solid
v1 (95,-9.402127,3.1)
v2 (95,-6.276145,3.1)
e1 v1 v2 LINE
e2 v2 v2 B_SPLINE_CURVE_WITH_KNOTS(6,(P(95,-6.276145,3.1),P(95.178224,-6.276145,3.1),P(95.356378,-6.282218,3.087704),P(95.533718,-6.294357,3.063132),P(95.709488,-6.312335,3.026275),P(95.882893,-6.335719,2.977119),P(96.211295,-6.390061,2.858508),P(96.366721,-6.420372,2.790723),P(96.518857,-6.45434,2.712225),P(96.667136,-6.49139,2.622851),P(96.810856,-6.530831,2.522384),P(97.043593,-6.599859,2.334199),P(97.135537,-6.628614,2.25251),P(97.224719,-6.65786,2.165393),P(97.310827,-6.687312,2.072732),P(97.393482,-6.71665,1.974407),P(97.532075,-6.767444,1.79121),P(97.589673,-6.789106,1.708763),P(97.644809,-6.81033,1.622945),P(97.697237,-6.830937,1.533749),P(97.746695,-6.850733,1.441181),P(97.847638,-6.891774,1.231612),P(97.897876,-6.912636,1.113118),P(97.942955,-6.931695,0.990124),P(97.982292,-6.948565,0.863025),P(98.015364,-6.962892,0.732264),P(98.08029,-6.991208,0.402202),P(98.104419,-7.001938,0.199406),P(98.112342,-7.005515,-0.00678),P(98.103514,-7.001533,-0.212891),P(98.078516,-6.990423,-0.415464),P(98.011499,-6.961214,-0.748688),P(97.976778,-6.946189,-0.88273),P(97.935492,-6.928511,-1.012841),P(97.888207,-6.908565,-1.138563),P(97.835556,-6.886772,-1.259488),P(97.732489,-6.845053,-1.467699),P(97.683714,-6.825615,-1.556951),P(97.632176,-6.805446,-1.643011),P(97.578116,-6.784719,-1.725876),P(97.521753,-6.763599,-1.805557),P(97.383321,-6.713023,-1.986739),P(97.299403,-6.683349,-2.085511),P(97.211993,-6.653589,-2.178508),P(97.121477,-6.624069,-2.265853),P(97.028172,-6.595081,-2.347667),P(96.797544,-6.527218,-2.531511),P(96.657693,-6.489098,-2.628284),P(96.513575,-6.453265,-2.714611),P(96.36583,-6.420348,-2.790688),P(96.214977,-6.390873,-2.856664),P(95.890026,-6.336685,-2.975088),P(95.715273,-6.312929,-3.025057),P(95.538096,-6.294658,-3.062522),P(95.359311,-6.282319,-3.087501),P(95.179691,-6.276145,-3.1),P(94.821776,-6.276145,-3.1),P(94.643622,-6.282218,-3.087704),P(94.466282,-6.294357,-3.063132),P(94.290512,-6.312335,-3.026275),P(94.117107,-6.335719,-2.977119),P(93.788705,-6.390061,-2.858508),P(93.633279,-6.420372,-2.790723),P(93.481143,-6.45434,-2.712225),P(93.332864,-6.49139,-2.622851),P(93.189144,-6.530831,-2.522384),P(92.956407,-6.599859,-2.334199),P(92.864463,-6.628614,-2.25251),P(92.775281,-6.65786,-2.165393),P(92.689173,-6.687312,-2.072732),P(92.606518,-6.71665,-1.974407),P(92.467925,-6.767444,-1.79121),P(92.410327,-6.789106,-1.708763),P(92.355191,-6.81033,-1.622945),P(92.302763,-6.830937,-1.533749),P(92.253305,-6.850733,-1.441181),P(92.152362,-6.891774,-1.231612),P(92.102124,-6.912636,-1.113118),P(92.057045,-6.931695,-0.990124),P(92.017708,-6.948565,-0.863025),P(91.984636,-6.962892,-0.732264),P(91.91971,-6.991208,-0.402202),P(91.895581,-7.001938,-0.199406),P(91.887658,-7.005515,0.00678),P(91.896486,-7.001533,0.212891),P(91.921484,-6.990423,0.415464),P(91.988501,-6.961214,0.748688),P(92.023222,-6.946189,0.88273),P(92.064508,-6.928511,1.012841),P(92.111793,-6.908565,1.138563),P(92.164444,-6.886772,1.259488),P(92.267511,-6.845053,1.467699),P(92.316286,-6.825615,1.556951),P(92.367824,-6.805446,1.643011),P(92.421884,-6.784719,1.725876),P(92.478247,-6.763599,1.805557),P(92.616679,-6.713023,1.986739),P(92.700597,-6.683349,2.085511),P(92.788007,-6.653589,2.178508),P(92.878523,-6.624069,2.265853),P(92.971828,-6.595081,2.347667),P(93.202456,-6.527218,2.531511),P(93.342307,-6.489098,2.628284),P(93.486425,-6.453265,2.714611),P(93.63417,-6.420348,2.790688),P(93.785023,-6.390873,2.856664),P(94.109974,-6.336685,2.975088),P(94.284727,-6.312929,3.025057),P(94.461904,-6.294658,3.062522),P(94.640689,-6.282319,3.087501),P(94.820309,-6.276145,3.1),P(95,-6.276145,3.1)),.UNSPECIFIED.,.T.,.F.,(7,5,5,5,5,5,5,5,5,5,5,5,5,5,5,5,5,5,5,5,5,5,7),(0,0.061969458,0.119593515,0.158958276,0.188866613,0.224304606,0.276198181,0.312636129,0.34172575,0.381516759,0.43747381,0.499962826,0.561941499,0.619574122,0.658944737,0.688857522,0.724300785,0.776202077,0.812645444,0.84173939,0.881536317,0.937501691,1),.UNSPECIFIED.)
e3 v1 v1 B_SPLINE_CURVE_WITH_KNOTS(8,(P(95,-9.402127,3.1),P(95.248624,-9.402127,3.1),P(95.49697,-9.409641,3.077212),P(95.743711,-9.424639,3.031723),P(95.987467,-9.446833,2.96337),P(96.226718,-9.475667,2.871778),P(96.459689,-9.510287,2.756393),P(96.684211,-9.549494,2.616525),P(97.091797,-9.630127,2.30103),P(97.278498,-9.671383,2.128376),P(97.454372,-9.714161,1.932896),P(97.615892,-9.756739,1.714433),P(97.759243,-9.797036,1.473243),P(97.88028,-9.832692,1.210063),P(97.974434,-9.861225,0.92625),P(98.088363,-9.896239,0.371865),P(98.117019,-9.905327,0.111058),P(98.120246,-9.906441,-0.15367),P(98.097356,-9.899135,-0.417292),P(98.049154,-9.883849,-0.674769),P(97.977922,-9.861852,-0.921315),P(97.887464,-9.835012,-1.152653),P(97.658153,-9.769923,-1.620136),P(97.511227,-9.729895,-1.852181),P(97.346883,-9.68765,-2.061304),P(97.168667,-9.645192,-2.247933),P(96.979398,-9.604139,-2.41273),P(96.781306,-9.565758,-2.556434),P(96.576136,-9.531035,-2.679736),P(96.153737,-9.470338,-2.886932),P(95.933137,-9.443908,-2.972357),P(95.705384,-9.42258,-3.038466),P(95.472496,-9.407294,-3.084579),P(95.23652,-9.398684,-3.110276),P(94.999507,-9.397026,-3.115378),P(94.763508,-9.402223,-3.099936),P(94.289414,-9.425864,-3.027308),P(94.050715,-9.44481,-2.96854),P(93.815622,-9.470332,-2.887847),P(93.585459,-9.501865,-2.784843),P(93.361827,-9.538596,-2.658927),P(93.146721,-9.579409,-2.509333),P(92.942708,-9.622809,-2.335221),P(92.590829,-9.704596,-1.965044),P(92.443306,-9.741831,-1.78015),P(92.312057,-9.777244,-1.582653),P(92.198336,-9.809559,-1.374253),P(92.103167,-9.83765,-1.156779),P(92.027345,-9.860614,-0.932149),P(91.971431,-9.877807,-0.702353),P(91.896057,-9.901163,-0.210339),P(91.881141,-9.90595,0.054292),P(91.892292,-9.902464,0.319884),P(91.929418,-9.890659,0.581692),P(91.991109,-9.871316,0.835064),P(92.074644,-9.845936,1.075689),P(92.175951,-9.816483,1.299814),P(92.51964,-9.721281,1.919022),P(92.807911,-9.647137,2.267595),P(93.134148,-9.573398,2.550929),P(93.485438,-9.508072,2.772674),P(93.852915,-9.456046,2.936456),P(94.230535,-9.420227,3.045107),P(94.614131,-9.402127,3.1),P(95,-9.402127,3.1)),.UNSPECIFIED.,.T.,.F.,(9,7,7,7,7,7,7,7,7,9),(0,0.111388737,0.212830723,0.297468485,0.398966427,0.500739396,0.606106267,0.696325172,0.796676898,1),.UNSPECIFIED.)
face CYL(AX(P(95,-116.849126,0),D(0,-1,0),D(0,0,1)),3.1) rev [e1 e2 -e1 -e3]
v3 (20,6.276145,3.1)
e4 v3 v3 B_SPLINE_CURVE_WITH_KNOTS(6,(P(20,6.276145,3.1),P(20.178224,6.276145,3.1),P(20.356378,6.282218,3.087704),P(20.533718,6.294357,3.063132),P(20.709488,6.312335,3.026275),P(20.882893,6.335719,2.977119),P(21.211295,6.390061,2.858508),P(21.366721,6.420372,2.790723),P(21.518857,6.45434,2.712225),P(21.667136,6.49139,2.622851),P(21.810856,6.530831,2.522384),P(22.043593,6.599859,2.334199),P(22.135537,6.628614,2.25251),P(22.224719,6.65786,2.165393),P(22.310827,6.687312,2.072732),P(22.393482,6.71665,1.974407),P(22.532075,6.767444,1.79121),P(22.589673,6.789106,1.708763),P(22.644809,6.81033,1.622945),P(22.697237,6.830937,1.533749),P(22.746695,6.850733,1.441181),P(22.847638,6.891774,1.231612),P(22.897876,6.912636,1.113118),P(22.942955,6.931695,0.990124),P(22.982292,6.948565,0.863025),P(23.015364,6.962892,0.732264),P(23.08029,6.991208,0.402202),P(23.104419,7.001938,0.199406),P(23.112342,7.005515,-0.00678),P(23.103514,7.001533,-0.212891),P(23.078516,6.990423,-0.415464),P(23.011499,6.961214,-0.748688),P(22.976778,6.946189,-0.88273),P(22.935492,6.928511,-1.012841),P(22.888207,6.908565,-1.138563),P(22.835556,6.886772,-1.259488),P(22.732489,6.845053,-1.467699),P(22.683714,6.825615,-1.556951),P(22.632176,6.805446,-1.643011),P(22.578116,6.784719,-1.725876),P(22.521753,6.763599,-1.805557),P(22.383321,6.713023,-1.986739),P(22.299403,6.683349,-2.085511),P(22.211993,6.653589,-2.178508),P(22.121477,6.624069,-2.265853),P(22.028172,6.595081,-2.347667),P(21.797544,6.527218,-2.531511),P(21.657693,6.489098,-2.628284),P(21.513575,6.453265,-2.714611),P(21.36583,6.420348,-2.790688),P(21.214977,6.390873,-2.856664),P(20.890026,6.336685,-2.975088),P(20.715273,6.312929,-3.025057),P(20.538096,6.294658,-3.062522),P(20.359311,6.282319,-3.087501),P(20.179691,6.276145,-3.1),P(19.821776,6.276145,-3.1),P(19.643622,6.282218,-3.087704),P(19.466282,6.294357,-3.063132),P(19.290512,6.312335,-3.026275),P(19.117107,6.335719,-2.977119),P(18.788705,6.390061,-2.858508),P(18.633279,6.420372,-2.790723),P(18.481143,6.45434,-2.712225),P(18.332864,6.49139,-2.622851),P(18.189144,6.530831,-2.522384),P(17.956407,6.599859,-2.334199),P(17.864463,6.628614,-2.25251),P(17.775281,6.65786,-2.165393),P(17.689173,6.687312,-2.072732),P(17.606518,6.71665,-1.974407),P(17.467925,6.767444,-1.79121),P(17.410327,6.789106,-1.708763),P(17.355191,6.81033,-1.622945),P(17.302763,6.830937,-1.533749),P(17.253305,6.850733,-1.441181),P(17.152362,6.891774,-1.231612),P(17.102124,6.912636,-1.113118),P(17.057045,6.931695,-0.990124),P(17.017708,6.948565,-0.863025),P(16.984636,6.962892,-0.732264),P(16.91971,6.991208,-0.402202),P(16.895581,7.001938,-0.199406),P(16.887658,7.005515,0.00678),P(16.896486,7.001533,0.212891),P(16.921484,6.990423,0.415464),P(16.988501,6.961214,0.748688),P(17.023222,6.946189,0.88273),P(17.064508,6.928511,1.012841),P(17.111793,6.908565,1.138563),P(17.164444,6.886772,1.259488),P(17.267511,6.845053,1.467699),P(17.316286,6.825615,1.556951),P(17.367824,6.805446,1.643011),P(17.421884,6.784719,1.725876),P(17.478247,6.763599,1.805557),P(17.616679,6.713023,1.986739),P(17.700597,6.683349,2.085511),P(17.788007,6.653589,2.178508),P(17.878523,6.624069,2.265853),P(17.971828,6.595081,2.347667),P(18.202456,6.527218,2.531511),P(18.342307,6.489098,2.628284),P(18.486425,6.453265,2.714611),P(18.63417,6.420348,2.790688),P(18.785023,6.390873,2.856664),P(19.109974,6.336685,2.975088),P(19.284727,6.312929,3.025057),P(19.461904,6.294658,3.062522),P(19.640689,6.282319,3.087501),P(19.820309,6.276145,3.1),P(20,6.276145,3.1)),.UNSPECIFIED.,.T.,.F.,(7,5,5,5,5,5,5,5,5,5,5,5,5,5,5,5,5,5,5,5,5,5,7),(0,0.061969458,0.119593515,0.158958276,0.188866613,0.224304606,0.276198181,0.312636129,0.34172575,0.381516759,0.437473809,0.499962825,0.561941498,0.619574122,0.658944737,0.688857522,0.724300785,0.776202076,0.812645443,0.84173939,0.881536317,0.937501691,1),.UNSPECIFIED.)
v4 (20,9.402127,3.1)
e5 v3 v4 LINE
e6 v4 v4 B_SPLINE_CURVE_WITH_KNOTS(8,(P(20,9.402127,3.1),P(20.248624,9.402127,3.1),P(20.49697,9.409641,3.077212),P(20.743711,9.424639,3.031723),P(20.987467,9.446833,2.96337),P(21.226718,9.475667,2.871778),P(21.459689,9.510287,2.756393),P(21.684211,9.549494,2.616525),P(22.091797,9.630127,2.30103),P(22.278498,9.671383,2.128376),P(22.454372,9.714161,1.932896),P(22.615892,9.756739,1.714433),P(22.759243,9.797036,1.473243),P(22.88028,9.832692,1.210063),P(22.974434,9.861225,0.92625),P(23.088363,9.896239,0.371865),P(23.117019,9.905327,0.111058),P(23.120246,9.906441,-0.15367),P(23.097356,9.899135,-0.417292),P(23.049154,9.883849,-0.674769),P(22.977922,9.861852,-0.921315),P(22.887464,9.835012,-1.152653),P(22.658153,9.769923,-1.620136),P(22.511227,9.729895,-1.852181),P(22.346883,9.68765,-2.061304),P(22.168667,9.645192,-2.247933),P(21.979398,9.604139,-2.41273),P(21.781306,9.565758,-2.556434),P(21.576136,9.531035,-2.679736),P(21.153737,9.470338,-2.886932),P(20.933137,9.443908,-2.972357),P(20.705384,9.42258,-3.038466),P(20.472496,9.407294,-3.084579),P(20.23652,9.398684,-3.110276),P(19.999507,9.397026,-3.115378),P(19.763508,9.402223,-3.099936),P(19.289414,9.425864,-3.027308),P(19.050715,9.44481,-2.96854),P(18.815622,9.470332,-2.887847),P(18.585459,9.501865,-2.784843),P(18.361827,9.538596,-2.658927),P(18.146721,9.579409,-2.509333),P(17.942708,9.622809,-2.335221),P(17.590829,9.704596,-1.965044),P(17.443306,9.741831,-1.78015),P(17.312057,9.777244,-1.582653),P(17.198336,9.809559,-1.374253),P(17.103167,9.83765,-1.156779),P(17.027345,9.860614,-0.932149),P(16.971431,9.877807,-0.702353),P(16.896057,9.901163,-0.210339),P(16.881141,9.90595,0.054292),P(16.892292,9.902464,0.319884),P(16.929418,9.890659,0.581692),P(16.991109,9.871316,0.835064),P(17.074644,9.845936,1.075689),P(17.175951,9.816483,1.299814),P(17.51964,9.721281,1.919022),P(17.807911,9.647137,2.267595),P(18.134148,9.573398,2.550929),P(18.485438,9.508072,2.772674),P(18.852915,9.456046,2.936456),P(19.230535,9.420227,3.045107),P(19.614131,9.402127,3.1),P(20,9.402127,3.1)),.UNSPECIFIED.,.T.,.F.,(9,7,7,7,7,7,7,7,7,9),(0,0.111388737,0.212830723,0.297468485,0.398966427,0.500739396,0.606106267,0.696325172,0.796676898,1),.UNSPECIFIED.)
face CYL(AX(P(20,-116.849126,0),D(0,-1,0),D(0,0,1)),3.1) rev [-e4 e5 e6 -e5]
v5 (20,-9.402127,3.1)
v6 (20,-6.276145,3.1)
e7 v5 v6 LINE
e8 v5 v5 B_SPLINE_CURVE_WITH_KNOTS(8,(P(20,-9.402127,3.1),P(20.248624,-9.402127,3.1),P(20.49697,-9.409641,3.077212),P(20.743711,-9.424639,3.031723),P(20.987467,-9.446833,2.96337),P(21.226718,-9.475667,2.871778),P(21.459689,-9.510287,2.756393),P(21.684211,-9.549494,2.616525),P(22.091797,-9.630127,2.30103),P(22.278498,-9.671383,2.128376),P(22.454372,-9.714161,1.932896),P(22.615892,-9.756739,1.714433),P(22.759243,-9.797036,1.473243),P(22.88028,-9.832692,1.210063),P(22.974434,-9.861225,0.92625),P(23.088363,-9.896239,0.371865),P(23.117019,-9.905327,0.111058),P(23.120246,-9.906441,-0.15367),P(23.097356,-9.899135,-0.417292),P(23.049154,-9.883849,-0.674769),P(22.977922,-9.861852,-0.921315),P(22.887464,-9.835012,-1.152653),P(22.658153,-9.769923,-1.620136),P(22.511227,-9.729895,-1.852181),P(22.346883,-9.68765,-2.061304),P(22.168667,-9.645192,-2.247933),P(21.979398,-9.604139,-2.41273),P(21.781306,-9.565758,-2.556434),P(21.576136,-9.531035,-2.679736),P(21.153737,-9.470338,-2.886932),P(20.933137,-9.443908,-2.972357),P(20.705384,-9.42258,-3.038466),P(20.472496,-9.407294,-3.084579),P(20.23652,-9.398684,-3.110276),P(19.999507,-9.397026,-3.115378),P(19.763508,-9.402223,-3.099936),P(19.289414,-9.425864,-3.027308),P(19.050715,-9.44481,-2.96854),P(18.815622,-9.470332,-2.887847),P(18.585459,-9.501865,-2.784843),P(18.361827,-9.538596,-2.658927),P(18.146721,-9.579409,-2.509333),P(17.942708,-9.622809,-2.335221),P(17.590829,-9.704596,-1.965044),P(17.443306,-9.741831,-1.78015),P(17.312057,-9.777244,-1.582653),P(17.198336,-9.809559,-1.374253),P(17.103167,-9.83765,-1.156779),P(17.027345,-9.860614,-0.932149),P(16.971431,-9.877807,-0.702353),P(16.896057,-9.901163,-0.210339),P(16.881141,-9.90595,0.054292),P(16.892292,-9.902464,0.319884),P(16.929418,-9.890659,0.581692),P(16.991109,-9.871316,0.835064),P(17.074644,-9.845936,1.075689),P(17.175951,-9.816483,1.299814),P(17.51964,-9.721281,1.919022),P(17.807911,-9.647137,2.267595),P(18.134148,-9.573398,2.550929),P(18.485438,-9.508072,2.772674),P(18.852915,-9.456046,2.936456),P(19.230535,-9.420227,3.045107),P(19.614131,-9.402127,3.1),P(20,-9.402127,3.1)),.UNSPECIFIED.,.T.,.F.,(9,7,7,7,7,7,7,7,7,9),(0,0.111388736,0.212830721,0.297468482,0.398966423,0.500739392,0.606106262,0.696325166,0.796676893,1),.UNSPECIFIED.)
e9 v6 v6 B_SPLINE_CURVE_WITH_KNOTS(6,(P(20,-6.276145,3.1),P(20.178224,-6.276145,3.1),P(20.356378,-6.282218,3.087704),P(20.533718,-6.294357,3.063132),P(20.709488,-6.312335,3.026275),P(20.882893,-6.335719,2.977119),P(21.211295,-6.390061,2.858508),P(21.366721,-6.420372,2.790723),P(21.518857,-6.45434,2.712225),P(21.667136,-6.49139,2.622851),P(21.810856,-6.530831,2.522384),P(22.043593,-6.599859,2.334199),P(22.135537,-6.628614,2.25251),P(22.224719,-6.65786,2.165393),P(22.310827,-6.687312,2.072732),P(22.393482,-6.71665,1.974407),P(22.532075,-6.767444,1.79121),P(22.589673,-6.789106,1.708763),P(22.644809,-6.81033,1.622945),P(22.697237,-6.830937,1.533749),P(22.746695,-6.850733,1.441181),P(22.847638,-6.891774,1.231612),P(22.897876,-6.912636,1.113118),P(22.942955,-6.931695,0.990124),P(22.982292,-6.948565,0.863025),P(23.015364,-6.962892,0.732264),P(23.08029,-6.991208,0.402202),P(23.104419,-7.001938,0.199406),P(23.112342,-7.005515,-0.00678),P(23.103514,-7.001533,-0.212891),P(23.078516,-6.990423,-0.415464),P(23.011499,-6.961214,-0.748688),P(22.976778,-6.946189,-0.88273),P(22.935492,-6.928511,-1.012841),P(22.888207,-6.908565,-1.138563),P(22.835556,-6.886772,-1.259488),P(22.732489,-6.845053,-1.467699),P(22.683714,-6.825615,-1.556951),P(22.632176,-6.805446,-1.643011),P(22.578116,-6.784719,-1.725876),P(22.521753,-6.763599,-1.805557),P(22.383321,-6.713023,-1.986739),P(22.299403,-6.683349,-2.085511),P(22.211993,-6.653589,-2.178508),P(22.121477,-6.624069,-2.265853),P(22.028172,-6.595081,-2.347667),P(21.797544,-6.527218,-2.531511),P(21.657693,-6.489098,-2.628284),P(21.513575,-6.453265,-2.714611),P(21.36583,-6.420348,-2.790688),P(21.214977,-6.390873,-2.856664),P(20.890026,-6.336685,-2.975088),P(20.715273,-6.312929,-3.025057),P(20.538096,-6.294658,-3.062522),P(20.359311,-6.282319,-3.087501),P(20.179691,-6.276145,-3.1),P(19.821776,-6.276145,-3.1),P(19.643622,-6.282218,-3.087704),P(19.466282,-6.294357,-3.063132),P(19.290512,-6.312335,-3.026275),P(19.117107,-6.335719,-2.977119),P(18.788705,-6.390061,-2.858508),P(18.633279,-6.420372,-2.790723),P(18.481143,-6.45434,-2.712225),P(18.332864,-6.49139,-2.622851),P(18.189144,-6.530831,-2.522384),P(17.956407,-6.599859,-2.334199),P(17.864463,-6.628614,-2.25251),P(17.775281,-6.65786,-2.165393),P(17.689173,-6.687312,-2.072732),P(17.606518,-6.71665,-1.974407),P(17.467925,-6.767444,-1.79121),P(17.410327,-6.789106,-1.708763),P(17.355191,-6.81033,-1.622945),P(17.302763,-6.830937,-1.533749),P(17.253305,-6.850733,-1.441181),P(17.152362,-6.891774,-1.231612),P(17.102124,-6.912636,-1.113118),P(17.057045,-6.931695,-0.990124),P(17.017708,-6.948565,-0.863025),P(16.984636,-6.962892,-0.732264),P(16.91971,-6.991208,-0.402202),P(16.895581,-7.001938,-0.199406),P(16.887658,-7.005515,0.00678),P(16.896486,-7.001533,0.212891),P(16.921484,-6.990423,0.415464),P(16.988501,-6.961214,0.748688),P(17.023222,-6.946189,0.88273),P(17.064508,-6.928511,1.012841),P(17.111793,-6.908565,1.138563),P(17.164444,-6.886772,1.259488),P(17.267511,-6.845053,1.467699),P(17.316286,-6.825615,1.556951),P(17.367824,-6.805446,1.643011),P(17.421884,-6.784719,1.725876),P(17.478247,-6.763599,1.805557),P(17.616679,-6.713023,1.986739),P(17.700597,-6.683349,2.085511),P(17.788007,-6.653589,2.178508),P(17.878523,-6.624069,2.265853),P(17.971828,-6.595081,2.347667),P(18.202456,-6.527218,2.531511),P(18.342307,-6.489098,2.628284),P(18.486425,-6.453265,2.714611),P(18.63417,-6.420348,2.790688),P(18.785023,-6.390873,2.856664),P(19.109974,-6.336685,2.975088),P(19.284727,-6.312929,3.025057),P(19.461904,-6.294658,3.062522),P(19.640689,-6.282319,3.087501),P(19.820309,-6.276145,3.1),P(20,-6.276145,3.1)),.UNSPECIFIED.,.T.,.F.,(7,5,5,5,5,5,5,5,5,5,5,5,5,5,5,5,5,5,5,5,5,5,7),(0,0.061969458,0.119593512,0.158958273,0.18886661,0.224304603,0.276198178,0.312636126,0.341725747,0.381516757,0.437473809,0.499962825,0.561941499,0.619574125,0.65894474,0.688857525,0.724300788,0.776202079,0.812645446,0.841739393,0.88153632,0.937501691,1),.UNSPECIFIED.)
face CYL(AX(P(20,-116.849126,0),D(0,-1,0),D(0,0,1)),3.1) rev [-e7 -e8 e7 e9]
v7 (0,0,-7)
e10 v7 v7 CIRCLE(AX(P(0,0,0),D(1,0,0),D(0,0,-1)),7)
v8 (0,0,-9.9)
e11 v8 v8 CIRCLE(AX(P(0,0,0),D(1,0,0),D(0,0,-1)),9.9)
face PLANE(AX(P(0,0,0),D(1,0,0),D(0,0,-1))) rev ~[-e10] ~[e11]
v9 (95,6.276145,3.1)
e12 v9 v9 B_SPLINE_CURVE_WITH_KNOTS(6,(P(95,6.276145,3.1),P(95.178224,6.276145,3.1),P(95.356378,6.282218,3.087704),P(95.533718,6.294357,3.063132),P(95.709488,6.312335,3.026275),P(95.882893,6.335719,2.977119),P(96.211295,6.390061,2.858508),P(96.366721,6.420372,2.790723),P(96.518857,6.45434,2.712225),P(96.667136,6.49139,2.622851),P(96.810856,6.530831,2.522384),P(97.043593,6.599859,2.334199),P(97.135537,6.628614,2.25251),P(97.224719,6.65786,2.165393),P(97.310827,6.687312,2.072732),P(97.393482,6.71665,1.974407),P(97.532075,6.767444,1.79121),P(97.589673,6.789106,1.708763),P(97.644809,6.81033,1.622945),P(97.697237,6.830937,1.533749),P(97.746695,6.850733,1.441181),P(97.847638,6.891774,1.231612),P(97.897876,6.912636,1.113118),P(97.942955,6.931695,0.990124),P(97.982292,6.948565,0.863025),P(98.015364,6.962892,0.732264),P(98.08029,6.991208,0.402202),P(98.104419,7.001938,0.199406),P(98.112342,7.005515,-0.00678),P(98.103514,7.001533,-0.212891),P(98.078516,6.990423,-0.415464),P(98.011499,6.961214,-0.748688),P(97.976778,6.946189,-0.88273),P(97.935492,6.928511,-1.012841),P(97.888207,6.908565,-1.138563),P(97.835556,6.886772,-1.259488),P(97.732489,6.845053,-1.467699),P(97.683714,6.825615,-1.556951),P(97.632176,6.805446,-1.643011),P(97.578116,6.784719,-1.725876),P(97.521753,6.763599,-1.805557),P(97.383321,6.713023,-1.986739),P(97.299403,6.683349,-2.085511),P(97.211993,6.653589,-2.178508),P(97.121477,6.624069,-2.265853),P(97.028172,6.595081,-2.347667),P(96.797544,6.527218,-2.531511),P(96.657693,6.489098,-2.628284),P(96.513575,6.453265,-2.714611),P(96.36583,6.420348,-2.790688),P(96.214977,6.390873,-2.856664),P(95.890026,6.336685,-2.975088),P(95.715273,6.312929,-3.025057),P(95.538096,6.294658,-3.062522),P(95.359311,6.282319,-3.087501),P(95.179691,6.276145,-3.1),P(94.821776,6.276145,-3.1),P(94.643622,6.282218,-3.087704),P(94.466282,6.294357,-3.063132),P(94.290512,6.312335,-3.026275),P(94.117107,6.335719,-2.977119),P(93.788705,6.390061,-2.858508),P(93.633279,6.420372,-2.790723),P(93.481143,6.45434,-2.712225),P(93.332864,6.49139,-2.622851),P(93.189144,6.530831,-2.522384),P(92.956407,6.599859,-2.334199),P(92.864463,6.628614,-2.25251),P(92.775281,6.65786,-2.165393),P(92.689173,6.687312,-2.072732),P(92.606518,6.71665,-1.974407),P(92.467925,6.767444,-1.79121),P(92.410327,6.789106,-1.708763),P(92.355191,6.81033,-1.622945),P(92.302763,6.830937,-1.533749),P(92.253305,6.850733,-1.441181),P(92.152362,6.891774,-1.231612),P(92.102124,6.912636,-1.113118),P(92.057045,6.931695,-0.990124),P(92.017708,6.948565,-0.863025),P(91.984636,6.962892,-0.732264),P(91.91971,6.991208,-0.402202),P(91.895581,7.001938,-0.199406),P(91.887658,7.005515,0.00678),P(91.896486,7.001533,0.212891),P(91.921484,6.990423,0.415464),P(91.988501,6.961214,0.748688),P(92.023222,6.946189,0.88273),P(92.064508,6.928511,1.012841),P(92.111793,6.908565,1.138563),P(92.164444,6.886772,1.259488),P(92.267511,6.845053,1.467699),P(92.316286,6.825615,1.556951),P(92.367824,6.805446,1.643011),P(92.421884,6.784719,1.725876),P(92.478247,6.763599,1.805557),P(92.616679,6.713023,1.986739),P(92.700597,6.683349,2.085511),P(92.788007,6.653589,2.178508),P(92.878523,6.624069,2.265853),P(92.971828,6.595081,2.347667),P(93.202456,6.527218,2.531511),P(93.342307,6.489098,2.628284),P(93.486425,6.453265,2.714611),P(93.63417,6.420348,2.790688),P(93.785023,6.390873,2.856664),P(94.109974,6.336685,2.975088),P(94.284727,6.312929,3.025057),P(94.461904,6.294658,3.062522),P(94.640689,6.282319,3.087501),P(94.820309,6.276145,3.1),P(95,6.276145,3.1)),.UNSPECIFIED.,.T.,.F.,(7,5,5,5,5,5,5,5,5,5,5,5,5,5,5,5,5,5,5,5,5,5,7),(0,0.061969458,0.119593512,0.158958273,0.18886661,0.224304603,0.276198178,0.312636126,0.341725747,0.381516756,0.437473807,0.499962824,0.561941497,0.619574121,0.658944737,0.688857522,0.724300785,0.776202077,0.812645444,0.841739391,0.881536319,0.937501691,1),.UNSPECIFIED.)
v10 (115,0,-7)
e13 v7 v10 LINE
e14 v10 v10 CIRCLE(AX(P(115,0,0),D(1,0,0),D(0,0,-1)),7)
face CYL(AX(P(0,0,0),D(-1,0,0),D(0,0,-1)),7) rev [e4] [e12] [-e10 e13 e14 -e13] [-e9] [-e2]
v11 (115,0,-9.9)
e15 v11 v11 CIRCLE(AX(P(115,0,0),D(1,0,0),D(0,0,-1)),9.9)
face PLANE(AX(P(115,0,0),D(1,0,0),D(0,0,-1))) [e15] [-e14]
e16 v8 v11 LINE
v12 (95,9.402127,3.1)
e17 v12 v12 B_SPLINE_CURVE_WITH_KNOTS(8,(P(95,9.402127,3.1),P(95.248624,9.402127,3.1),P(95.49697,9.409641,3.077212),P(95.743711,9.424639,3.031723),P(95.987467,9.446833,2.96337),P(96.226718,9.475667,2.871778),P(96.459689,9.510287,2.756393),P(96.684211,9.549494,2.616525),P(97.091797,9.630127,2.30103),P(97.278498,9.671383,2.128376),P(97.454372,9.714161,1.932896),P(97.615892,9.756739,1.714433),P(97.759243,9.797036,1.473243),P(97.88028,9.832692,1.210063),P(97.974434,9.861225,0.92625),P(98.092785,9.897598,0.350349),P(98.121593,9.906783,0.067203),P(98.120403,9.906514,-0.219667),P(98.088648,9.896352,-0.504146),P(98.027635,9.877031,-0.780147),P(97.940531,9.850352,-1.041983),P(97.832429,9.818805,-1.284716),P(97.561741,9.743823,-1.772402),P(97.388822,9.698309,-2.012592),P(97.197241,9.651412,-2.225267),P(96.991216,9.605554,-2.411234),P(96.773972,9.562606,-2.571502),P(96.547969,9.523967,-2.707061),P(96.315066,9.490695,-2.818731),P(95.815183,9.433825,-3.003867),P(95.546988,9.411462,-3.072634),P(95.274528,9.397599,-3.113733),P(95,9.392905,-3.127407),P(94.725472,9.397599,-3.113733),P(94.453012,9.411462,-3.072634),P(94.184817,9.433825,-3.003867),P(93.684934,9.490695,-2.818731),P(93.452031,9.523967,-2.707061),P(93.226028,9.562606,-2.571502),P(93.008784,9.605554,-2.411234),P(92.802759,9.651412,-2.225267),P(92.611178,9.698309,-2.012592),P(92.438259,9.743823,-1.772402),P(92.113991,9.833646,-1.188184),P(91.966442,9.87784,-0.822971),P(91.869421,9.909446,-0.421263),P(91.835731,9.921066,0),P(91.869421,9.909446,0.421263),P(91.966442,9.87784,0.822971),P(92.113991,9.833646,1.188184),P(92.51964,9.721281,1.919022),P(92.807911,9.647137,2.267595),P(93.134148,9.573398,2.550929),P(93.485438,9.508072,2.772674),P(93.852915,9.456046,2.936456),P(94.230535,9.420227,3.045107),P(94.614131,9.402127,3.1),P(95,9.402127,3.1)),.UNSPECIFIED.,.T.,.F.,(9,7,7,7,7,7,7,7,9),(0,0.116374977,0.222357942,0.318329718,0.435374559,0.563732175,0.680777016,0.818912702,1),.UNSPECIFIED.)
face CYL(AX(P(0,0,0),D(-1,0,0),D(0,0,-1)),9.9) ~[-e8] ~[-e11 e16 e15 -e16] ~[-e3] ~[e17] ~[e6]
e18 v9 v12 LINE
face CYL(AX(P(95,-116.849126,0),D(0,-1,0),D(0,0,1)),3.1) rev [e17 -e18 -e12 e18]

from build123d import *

# Parameters (mm, degrees)
SKETCH_1_R               = 9.9
SKETCH_1_R_2             = 7
EXTRUDE_1_DEPTH          = 115
CUT_EXTRUDE_1_DEPTH      = 116.849126022
CUT_EXTRUDE_1_DEPTH_BACK = 116.849126022
SKETCH_2_R               = 3.1


with BuildPart() as part:
    # 草图1 → 凸台-拉伸1 (new body)
    with BuildSketch(Plane(origin=(0, 0, 0), x_dir=(0, 0, -1), z_dir=(1, 0, 0))):
        Circle(SKETCH_1_R)
        Circle(SKETCH_1_R_2, mode=Mode.SUBTRACT)
    extrude(amount=EXTRUDE_1_DEPTH)

    # 草图2 → 切除-拉伸1 (cut, two sides: drawn at the far end of the back side and taken through both)
    with BuildSketch(Plane(origin=(0, 0, 0), x_dir=(1, 0, 0), z_dir=(0, 1, 0)).offset(-CUT_EXTRUDE_1_DEPTH_BACK)):
        with Locations(Location((20, 0, 0), (0, 0, 270))):
            Circle(SKETCH_2_R)
        with Locations(Location((95, 0, 0), (0, 0, 270))):
            Circle(SKETCH_2_R)
    extrude(amount=CUT_EXTRUDE_1_DEPTH + CUT_EXTRUDE_1_DEPTH_BACK, mode=Mode.SUBTRACT)


solid = part.part
